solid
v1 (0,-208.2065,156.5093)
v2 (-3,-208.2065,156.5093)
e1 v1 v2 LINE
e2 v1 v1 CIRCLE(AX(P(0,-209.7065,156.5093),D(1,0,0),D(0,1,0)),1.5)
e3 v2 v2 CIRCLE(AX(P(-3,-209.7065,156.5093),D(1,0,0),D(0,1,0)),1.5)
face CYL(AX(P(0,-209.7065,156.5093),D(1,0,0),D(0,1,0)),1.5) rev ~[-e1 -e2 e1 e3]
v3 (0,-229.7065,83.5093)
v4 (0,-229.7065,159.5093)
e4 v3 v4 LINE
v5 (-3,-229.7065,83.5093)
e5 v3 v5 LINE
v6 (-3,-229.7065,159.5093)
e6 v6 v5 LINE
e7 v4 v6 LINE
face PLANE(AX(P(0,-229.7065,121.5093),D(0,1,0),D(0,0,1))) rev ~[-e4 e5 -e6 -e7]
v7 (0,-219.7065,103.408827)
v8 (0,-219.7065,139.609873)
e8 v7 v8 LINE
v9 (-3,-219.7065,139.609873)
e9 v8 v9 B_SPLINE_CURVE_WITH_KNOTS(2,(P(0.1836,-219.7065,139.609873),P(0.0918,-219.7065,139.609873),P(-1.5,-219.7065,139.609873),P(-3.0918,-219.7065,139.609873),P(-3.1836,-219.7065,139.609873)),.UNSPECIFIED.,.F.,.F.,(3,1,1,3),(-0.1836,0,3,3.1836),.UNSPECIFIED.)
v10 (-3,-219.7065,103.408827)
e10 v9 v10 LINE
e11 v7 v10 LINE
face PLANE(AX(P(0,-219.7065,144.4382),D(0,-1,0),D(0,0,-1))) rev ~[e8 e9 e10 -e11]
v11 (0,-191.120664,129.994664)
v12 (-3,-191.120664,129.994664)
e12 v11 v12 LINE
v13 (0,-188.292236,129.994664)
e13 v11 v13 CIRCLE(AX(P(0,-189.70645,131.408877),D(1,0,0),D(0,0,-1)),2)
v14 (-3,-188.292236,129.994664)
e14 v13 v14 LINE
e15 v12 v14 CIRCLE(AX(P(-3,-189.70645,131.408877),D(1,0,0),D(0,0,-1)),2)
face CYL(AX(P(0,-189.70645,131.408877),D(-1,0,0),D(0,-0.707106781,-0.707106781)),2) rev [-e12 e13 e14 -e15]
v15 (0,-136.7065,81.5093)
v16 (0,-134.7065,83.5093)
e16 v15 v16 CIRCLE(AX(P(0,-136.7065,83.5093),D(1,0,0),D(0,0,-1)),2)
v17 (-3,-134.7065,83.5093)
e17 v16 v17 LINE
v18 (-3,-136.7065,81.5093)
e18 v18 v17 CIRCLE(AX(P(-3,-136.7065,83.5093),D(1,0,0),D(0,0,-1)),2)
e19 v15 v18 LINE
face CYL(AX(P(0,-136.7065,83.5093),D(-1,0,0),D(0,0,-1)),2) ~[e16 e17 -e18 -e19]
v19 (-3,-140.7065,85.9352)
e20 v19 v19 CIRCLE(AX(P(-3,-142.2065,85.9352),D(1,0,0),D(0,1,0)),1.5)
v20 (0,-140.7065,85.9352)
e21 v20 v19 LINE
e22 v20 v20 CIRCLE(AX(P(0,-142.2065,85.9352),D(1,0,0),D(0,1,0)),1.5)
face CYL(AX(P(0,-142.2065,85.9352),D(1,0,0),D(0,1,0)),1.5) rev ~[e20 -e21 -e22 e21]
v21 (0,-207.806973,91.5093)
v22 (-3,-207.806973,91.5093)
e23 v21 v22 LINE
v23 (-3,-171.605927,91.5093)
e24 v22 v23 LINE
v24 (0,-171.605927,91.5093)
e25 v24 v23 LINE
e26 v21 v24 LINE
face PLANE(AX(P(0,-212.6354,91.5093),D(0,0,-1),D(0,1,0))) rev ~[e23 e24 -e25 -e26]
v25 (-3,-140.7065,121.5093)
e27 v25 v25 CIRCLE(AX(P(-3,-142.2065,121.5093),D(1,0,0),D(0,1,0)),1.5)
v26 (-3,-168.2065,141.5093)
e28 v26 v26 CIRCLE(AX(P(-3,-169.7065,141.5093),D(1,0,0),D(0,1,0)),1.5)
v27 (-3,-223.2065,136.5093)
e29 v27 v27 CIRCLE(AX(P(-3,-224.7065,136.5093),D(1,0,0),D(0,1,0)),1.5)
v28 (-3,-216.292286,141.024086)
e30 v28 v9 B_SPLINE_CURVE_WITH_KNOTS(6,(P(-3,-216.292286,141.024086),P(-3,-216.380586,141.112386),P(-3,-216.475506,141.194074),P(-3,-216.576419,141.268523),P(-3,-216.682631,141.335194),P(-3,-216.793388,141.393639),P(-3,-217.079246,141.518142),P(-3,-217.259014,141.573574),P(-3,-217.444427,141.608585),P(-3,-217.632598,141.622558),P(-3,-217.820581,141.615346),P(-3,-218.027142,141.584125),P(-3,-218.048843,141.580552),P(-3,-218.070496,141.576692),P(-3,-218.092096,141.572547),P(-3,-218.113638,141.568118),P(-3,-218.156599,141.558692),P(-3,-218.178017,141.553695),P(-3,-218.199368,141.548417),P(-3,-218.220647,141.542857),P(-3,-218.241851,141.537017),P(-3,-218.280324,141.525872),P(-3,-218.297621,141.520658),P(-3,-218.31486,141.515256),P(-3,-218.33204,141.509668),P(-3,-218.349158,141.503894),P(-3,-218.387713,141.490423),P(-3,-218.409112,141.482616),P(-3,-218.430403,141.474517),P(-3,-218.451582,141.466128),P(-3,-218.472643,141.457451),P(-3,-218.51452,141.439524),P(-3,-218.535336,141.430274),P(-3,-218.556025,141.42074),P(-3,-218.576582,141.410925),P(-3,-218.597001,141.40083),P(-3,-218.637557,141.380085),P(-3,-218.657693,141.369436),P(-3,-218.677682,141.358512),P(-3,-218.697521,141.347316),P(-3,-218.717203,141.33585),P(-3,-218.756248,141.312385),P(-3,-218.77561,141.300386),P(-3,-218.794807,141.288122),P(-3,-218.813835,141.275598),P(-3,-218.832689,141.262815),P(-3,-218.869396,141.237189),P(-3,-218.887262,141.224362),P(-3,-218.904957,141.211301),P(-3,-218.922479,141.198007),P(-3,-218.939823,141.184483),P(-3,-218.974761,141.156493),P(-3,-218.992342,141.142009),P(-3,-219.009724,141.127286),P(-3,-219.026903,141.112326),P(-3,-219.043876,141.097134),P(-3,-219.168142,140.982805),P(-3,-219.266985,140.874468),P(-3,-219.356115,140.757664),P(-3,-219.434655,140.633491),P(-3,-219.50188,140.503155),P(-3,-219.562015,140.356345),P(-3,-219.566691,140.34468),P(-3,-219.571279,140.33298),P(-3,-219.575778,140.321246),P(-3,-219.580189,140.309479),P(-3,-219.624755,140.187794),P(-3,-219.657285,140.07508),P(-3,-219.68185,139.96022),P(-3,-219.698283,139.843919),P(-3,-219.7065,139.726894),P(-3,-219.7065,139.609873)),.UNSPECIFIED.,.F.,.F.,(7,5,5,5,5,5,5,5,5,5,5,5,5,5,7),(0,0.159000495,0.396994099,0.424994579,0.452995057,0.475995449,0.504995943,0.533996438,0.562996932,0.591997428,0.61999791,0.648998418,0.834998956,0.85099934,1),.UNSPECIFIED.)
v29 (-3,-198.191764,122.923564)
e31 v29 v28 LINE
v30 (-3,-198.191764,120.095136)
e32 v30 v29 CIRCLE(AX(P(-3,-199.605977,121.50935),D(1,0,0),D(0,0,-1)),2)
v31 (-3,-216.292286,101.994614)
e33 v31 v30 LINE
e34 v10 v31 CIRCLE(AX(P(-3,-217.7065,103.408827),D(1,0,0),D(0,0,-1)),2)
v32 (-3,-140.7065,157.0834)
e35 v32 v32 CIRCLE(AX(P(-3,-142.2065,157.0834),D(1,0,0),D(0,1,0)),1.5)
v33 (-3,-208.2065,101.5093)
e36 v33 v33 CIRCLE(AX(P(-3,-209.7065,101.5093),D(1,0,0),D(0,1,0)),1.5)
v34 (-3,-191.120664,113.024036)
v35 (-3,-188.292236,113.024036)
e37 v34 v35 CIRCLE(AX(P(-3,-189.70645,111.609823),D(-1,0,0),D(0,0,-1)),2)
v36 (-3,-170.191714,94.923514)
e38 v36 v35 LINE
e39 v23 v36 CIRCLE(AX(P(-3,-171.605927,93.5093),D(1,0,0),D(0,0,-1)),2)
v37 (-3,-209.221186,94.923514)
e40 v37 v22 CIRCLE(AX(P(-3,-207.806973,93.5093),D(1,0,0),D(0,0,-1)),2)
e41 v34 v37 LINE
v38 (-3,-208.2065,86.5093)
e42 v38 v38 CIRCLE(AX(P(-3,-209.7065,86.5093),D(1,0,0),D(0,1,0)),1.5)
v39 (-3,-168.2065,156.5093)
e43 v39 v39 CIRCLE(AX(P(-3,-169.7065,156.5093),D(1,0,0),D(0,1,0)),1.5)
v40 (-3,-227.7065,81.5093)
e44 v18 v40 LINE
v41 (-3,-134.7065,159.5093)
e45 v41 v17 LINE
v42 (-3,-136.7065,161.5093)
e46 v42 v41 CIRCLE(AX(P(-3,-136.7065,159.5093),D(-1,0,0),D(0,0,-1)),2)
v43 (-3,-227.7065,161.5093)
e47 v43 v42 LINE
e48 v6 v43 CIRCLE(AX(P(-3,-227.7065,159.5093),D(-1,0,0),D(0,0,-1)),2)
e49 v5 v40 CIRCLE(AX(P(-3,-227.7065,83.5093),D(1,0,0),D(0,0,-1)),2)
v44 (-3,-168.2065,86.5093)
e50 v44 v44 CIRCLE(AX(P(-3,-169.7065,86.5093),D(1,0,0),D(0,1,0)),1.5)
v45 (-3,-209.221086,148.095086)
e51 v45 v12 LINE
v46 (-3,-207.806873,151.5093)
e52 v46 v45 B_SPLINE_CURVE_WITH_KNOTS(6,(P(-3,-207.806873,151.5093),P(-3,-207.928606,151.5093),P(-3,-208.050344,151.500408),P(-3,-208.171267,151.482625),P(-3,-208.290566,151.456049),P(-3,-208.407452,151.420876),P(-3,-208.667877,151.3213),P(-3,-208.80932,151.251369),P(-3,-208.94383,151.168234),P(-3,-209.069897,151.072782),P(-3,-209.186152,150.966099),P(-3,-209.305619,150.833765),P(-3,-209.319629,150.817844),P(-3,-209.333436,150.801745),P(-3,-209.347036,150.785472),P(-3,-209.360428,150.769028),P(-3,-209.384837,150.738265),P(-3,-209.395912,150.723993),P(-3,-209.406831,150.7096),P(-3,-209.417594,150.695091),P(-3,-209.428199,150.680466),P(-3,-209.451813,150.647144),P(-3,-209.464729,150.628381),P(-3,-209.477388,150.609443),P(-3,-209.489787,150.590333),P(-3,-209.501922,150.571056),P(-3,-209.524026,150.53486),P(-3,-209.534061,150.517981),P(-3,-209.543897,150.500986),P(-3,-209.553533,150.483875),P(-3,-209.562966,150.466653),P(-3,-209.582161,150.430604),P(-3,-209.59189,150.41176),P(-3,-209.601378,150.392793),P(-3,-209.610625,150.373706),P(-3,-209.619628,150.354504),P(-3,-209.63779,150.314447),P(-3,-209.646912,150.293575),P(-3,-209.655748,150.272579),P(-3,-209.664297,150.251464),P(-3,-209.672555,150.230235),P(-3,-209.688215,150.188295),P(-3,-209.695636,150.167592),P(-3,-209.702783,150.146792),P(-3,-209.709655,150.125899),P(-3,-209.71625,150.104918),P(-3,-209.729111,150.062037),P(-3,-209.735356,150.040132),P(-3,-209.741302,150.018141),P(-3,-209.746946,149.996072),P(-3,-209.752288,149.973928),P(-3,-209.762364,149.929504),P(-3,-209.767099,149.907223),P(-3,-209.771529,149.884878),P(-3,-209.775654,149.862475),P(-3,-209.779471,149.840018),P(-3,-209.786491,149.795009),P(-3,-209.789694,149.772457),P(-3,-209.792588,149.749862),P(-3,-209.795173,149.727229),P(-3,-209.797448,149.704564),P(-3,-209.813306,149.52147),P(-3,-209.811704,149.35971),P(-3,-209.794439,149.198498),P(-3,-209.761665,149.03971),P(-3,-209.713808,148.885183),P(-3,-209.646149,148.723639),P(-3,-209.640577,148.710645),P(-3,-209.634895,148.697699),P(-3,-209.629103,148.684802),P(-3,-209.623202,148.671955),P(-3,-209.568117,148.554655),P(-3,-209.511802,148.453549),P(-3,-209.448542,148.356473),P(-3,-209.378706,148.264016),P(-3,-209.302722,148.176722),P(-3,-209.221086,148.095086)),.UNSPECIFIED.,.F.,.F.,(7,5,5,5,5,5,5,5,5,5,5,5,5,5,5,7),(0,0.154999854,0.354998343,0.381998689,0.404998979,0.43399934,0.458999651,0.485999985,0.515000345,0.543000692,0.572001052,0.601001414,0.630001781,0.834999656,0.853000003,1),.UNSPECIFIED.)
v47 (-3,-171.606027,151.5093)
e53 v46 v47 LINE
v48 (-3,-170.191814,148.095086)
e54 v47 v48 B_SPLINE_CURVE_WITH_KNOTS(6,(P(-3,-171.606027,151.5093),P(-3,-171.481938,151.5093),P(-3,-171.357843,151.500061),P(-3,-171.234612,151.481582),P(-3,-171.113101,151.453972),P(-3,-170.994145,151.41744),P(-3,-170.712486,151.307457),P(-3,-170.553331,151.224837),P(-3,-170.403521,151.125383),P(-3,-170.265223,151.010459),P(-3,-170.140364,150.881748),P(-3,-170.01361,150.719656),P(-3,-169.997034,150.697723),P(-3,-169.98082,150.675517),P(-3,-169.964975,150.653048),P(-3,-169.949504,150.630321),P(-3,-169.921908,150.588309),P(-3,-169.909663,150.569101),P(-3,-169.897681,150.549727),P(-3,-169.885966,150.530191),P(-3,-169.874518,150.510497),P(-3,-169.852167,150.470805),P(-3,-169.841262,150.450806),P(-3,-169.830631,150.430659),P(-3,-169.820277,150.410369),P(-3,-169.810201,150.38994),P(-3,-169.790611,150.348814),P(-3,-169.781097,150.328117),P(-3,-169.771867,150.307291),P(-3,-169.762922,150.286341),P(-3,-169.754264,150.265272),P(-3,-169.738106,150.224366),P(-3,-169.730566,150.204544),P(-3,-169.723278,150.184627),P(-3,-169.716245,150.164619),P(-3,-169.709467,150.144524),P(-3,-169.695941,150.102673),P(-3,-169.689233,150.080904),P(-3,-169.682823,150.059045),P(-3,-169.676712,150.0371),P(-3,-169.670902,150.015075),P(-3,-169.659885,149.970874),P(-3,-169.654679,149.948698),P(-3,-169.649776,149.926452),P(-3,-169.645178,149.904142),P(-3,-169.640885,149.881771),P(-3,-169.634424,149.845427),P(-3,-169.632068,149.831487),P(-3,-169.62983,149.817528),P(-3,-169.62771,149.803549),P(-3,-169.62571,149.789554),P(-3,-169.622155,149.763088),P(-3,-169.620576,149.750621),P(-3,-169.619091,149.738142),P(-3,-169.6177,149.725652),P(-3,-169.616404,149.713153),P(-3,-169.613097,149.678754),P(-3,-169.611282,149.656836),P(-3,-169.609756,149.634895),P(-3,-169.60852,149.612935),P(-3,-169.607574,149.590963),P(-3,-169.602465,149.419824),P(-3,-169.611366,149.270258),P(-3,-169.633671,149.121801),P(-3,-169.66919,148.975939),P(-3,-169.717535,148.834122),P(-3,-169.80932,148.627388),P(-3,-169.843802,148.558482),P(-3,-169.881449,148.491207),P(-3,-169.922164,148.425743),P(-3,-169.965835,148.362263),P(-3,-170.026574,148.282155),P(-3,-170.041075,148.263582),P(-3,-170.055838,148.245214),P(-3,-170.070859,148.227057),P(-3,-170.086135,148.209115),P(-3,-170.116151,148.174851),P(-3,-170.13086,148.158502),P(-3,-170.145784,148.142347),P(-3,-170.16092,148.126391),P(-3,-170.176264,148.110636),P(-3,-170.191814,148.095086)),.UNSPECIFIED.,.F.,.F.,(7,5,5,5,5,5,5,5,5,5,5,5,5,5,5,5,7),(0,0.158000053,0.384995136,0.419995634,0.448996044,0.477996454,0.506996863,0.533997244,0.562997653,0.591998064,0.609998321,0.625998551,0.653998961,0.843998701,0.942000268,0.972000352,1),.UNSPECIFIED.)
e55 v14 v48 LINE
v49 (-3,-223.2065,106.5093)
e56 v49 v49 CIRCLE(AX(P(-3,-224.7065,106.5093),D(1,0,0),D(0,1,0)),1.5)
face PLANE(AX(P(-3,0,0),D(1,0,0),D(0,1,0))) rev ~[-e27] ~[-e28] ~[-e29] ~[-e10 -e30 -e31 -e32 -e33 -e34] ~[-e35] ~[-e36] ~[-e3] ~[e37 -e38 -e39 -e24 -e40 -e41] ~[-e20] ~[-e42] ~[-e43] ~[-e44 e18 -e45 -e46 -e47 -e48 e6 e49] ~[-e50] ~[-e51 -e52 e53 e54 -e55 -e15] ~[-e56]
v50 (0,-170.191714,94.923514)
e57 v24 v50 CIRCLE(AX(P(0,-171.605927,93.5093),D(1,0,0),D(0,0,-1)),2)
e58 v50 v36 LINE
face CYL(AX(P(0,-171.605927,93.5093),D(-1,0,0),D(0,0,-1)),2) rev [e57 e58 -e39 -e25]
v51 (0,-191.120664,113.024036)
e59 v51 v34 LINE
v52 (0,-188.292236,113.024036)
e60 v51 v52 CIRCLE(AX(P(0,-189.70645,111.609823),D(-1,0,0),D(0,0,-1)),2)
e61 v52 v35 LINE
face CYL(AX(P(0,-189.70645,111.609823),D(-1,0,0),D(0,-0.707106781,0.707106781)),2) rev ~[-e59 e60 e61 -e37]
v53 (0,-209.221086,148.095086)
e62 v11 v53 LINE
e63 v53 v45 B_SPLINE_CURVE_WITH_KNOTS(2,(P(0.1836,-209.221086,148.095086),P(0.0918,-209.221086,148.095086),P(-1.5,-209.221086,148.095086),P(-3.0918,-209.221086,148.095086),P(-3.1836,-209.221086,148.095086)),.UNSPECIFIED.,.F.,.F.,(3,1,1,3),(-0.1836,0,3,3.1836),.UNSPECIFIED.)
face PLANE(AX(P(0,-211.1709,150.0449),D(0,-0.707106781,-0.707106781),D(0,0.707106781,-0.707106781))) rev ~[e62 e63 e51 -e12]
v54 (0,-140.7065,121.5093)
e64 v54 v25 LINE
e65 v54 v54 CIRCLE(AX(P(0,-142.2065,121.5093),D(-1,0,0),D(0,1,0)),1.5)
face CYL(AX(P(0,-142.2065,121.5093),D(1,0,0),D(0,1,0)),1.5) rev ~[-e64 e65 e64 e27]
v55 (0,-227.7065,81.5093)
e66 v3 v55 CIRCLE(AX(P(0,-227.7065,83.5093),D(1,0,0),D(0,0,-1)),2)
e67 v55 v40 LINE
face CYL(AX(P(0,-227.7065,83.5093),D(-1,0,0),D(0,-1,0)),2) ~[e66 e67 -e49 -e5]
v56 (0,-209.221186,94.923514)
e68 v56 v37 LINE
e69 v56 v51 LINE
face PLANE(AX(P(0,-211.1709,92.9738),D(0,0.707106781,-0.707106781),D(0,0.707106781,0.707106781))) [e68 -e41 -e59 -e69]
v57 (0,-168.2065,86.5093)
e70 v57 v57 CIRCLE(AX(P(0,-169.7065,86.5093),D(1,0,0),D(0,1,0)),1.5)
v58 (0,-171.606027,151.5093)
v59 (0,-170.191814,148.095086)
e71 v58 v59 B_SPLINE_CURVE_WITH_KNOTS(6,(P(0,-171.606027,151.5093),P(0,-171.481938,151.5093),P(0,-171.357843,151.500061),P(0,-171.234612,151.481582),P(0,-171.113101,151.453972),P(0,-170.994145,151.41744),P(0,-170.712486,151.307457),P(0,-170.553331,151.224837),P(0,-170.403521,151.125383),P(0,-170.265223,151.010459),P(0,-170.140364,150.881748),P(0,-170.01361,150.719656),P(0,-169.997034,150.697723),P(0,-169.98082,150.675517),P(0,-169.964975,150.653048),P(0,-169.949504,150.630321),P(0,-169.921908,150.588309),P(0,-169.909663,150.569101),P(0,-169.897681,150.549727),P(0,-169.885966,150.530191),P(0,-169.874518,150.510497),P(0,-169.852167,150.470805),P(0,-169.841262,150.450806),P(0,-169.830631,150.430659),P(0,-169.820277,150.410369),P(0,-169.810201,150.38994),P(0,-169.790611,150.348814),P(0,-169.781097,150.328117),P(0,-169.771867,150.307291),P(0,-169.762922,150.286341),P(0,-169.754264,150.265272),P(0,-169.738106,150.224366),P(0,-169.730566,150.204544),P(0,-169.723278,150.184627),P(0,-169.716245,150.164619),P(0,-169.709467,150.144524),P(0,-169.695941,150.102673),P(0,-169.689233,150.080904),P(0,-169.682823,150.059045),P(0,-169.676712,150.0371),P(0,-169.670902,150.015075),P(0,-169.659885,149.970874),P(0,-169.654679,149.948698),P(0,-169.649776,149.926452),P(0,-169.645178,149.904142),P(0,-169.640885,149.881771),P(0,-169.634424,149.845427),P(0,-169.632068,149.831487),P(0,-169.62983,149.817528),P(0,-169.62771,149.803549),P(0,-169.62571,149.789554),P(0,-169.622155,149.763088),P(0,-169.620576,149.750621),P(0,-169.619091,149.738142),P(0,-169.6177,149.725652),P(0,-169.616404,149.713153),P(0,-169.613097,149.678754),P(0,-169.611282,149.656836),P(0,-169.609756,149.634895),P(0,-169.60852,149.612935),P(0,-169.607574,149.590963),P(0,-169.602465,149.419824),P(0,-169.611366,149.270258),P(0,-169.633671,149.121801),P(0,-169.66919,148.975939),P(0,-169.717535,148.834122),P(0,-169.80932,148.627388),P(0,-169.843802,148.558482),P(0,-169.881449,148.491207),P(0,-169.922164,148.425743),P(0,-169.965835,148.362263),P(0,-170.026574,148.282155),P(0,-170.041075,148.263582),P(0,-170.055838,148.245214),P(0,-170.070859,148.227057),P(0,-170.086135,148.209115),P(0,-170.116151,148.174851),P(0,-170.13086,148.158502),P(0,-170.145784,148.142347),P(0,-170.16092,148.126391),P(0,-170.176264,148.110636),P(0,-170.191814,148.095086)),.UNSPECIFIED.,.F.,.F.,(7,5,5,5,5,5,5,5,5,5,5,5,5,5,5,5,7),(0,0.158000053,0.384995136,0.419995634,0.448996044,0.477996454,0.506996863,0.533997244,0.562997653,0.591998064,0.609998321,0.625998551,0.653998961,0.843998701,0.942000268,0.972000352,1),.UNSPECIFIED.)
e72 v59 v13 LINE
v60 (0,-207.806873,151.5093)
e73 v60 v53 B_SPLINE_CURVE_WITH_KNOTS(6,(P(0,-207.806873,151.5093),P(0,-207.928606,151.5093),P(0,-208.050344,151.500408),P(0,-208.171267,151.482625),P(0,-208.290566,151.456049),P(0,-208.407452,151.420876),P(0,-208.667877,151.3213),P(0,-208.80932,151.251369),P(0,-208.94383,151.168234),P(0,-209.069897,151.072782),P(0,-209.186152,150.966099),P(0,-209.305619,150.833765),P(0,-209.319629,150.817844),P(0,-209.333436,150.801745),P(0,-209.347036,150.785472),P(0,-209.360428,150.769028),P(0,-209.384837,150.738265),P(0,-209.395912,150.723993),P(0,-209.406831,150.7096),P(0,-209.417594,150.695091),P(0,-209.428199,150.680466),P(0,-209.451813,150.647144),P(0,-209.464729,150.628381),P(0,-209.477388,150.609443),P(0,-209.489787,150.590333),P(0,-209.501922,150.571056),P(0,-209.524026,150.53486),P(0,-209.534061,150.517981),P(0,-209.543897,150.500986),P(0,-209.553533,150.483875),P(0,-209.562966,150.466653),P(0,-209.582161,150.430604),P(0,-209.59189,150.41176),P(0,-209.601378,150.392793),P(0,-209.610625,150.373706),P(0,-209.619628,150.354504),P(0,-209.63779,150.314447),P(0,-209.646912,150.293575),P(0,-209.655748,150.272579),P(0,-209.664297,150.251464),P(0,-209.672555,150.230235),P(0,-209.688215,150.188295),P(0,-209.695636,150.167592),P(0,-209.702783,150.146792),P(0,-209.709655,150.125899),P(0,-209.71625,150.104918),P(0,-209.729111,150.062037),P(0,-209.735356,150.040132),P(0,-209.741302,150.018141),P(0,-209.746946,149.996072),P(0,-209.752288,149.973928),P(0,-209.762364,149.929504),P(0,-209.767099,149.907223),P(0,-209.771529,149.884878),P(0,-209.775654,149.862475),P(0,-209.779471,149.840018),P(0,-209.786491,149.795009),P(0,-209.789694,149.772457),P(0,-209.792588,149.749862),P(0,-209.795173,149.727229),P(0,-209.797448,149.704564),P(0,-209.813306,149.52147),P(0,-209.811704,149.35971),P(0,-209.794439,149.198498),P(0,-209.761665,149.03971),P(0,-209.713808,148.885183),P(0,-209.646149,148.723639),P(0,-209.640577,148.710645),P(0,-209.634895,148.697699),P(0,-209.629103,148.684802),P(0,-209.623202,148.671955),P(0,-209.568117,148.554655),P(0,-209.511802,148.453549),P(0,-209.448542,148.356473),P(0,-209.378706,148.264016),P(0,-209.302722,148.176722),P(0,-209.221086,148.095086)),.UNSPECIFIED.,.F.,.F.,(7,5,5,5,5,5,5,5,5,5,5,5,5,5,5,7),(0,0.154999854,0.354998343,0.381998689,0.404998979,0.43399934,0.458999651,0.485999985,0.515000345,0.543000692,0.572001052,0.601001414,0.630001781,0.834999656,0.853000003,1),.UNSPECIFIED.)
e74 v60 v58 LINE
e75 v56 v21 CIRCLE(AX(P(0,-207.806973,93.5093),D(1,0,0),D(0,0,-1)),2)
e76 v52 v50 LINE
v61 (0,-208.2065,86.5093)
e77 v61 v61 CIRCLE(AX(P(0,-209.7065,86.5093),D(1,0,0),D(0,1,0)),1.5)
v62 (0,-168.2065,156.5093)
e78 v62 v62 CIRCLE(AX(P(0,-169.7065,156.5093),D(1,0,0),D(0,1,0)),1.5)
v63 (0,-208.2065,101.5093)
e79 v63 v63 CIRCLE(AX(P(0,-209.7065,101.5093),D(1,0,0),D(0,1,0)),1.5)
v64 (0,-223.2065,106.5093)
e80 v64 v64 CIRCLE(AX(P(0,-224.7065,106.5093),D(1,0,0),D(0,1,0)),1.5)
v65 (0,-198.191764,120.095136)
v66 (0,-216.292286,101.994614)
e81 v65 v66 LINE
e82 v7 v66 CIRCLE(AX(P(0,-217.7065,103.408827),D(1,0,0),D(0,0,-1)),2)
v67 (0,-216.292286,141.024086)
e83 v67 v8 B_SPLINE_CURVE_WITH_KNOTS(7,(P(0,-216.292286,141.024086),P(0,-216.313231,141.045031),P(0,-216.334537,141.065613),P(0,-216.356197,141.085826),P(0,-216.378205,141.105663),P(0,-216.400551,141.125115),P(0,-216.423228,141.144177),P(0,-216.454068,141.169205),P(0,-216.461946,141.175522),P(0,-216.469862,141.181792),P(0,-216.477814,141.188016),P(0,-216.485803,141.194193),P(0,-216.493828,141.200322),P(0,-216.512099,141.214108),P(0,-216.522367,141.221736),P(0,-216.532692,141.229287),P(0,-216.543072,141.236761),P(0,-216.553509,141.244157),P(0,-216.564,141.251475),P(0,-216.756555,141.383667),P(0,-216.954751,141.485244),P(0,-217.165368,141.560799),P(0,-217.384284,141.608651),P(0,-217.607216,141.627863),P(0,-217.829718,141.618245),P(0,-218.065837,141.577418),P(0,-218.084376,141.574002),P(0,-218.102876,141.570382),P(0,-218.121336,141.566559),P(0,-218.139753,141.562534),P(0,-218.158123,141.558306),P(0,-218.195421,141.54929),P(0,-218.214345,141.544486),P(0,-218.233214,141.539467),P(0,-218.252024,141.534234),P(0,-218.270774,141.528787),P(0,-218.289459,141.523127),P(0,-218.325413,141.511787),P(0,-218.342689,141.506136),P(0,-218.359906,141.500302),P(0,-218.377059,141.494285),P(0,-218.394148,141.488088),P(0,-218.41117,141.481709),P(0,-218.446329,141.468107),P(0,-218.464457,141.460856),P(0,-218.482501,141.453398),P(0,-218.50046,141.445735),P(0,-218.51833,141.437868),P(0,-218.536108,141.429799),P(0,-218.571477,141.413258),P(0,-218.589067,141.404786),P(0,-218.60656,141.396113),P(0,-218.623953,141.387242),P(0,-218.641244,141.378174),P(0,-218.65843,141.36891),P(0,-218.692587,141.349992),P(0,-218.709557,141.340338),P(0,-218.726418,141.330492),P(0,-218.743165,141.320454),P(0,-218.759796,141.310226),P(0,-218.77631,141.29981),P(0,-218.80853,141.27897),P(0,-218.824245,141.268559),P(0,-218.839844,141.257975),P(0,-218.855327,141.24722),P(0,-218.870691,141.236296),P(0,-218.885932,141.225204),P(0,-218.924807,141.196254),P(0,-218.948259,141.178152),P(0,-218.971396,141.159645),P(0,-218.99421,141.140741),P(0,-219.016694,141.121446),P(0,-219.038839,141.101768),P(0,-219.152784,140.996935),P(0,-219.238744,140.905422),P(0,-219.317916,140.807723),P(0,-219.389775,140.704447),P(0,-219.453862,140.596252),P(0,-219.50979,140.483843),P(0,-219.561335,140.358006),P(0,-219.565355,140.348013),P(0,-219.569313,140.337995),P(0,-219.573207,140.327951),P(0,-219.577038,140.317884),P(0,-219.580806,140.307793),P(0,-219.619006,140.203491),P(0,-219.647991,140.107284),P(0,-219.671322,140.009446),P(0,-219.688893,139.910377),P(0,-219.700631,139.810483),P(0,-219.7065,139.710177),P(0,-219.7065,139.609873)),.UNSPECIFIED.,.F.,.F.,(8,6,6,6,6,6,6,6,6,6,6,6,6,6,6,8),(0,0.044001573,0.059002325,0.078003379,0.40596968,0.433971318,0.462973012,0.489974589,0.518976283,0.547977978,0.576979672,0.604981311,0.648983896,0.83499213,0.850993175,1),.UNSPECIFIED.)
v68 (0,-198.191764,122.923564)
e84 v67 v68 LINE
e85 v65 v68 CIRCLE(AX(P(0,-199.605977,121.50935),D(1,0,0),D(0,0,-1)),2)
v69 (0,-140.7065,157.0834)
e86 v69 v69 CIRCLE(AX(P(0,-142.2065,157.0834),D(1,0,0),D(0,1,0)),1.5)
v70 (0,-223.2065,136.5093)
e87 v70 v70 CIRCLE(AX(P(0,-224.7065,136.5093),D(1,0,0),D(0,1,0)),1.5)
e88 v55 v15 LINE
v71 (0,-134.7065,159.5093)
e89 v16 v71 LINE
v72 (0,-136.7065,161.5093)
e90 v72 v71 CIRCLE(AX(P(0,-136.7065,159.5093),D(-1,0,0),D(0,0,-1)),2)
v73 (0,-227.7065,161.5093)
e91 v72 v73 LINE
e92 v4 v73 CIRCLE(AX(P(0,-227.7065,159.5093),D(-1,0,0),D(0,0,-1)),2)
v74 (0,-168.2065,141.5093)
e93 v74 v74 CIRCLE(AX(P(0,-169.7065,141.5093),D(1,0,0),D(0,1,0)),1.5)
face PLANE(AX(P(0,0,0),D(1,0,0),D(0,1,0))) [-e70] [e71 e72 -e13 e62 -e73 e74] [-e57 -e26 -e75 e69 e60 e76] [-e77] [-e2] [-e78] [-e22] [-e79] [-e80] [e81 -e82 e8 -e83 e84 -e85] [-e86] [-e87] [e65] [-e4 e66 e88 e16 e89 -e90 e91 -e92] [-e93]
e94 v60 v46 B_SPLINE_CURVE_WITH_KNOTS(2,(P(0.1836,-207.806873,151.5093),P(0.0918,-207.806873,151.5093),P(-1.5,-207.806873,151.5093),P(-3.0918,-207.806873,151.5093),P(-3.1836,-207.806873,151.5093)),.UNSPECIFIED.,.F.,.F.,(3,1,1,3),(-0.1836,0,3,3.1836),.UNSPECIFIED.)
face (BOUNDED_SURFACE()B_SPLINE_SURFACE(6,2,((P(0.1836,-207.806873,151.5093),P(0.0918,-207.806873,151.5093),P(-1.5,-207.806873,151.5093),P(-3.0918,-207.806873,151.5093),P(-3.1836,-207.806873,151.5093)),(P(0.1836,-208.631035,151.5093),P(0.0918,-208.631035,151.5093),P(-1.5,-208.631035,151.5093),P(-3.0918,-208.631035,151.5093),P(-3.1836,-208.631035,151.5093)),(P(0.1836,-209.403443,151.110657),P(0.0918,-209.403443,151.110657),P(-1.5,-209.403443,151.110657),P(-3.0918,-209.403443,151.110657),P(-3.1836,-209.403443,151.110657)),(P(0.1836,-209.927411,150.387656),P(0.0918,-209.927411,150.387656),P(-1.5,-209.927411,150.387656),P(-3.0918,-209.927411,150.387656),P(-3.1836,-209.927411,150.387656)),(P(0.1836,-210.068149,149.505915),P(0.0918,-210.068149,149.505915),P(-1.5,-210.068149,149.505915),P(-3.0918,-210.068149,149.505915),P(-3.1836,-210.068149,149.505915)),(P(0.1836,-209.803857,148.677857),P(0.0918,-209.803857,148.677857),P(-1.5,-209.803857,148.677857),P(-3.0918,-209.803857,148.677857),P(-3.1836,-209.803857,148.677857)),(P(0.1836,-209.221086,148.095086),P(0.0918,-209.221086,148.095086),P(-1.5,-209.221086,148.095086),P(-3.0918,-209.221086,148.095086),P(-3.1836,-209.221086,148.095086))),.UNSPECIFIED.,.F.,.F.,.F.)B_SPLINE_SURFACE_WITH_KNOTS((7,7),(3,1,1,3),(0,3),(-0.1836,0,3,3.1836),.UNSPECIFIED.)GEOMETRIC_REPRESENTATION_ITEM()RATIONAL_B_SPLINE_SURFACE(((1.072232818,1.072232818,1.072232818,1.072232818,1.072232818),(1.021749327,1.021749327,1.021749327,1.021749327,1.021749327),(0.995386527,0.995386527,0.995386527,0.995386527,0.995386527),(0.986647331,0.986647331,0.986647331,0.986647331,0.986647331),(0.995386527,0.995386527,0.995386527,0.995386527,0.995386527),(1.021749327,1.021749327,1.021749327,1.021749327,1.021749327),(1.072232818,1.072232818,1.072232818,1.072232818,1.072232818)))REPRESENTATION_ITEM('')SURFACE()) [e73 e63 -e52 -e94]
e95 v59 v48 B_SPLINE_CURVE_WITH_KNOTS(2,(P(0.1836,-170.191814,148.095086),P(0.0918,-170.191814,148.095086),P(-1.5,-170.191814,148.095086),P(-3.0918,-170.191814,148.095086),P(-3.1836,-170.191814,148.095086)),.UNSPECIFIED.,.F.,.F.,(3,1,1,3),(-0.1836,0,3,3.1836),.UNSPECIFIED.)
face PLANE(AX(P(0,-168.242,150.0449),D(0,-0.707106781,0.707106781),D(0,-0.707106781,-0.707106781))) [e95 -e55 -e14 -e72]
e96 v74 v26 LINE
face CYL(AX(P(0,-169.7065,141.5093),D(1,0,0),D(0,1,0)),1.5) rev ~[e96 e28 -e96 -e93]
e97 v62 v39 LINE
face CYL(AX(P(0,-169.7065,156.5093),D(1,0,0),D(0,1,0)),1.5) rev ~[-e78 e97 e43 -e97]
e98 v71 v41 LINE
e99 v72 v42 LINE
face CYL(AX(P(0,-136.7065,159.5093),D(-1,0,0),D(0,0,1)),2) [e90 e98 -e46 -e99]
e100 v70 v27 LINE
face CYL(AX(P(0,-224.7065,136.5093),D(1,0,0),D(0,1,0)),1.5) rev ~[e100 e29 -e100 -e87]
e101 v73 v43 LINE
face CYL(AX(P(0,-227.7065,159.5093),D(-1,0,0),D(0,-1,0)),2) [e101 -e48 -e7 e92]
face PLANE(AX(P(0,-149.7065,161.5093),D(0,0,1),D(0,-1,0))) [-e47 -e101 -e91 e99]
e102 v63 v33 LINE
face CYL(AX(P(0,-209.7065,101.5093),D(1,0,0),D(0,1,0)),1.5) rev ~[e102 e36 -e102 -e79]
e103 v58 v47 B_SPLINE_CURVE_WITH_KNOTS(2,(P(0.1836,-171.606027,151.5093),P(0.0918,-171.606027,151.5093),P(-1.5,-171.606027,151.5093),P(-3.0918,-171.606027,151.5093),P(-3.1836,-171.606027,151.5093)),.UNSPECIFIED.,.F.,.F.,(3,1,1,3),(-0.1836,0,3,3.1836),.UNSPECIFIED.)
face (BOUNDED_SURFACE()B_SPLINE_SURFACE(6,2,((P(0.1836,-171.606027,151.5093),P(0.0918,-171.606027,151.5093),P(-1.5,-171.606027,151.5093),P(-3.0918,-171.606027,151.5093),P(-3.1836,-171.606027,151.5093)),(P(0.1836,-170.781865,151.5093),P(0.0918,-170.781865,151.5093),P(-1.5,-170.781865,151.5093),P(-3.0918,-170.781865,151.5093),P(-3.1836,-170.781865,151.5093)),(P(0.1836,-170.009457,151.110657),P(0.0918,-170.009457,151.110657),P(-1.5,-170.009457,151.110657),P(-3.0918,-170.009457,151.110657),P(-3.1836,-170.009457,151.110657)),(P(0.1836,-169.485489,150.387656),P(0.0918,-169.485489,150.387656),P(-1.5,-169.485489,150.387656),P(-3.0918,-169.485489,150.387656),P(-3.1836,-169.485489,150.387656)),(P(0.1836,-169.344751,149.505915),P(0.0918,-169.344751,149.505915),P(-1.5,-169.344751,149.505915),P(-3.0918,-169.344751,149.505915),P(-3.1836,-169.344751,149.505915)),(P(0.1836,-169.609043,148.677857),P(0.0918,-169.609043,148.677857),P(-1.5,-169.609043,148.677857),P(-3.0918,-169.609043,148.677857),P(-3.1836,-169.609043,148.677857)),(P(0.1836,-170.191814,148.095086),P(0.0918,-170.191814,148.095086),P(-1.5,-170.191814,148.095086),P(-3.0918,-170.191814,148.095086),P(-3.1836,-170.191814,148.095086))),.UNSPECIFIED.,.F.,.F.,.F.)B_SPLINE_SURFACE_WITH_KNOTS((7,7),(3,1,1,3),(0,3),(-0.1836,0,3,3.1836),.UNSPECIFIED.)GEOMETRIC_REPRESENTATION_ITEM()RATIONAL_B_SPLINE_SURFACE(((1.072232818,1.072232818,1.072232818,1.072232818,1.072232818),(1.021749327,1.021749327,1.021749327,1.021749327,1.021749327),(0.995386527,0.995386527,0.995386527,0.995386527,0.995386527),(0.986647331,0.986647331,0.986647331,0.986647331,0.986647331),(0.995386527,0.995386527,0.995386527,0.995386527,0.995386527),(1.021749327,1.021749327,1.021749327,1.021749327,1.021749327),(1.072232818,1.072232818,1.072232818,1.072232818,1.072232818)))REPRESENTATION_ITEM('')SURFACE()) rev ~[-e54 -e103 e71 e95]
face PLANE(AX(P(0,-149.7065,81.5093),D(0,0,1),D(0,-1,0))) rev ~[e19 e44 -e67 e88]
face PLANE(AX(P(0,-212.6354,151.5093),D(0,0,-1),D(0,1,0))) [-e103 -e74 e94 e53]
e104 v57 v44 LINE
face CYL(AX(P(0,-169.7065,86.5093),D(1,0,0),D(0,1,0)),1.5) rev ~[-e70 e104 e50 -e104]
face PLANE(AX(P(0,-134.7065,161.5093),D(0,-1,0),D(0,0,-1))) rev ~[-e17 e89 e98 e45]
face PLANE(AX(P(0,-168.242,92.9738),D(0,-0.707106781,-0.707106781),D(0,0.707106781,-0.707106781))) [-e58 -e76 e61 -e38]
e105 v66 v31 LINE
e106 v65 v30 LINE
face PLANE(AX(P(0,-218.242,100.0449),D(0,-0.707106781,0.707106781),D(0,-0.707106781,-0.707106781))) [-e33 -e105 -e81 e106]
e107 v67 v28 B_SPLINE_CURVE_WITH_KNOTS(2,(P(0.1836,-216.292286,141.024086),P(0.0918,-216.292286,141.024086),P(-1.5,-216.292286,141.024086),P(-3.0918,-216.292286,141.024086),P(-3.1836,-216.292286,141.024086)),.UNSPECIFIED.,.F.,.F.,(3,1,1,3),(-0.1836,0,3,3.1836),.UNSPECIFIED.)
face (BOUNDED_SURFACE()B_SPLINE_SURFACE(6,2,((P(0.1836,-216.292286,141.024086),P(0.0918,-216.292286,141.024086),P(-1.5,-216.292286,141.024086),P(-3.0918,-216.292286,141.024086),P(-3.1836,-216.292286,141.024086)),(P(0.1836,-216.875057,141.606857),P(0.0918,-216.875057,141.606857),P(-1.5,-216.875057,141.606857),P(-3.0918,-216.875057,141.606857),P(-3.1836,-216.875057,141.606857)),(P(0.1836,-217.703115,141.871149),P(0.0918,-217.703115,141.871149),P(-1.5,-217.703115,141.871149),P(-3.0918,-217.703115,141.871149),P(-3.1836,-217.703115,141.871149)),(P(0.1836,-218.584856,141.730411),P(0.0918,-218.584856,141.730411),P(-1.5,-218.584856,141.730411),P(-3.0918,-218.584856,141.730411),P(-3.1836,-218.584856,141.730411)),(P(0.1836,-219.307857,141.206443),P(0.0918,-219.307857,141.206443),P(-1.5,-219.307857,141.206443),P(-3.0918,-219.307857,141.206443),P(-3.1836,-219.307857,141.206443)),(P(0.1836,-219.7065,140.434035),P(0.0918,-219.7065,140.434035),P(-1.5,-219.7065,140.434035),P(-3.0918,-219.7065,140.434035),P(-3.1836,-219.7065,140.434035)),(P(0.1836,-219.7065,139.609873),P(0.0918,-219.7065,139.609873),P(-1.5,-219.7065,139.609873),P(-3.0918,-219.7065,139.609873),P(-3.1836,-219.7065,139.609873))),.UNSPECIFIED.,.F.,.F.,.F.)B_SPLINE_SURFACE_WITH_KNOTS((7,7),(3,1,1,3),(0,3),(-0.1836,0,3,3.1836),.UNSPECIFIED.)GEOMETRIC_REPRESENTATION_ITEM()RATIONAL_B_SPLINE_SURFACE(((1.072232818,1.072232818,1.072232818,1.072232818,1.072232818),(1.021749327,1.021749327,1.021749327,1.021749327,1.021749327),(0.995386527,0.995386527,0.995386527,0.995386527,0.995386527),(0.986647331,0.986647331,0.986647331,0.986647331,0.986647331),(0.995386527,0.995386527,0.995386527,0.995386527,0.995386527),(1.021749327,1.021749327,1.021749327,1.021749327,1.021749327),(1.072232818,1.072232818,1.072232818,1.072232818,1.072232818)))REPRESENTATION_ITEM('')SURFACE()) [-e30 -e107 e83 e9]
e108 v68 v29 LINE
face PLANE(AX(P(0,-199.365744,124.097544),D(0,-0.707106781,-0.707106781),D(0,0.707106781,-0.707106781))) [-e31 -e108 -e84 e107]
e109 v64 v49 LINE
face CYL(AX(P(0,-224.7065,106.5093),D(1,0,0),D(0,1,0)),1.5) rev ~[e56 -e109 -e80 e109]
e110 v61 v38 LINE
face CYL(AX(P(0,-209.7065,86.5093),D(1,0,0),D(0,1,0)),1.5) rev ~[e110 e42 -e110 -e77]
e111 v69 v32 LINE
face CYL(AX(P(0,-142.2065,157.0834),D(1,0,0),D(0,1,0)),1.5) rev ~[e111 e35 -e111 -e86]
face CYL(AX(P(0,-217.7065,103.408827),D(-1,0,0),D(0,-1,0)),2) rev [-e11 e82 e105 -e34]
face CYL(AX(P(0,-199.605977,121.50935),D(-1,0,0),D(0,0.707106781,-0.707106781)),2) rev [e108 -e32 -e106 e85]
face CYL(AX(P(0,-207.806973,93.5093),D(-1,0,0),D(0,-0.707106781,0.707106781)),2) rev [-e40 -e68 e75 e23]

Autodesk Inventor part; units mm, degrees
ref_plane "YZ Plane" through (0, 0, 0) normal (1, 0, 0) x (0, 1, 0)
ref_plane "XZ Plane" through (0, 0, 0) normal (0, 1, 0) x (-1, 0, 0)
ref_plane "XY Plane" through (0, 0, 0) normal (0, 0, 1) x (1, 0, 0)
sketch "スケッチ1" plane through (0, 0, 0) normal (1, 0, 0) x (0, 1, 0)
  line L0 (-149.7065, 436.5093) -> (480.2935, 436.5093)
  line L1 (480.2935, 436.5093) -> (480.2935, -193.4907)
  line L2 (480.2935, -193.4907) -> (-149.7065, -193.4907)
  line L3 (-149.7065, -193.4907) -> (-149.7065, 436.5093)
  line L4 (-149.7065, 436.5093) -> (480.2935, -193.4907) construction
  line L5 (480.2935, 436.5093) -> (-149.7065, -193.4907) construction
  line L6 (-149.7065, 343.7276) -> (-134.7065, 343.7276)
  line L7 (-134.7065, 343.7276) -> (-134.7065, -100.7089)
  line L8 (-134.7065, -100.7089) -> (-149.7065, -100.7089)
  line L9 (-149.7065, -100.7089) -> (-149.7065, 343.7276)
  line L10 (387.5118, 436.5093) -> (-56.9247, 436.5093)
  line L11 (-56.9247, 436.5093) -> (-56.9247, 421.5093)
  line L12 (-56.9247, 421.5093) -> (387.5118, 421.5093)
  line L13 (387.5118, 421.5093) -> (387.5118, 436.5093)
  line L14 (-56.9247, 421.5093) -> (-134.7065, 343.7276)
  line L15 (-134.7065, 343.7276) -> (-134.7065, 436.5093)
  line L16 (-56.9247, 421.5093) -> (-134.7065, 343.7276)
  line L17 (-134.7065, 343.7276) -> (-127.6354, 336.6565)
  line L18 (-127.6354, 336.6565) -> (-49.8537, 414.4382)
  line L19 (-49.8537, 414.4382) -> (-56.9247, 421.5093)
  line L20 (54.5012, 421.5093) -> (-134.7065, 232.3017)
  line L21 (54.5012, 421.5093) -> (-134.7065, 232.3017)
  line L22 (-134.7065, 232.3017) -> (-127.6354, 225.2306)
  line L23 (-127.6354, 225.2306) -> (61.5722, 414.4382)
  line L24 (61.5722, 414.4382) -> (54.5012, 421.5093)
  line L25 (165.2935, 121.5093) -> (-791.3038, 121.5093)
  line L26 (-56.9247, -178.4907) -> (-134.7065, -100.7089)
  line L27 (-134.7065, -100.7089) -> (-127.6354, -93.6379)
  line L28 (-127.6354, -93.6379) -> (-49.8537, -171.4196)
  line L29 (-49.8537, -171.4196) -> (-56.9247, -178.4907)
  line L30 (54.5012, -178.4907) -> (-134.7065, 10.7169)
  line L31 (-134.7065, 10.7169) -> (-127.6354, 17.788)
  line L32 (-127.6354, 17.788) -> (61.5722, -171.4196)
  line L33 (61.5722, -171.4196) -> (54.5012, -178.4907)
  circle A0 centre (165.2935, 121.5093) radius 400
  line L34 (-164.7065, 146.5093) -> (-214.7065, 146.5093)
  line L35 (-214.7065, 146.5093) -> (-214.7065, 96.5093)
  line L36 (-214.7065, 96.5093) -> (-164.7065, 96.5093)
  line L37 (-164.7065, 96.5093) -> (-164.7065, 146.5093)
  line L38 (165.2935, 121.5093) -> (165.2935, -509.4085)
  line L39 (387.5118, 421.5093) -> (465.2935, 343.7276)
  line L40 (465.2935, 343.7276) -> (458.2225, 336.6565)
  line L41 (458.2225, 336.6565) -> (380.4407, 414.4382)
  line L42 (380.4407, 414.4382) -> (387.5118, 421.5093)
  line L43 (276.0859, 421.5093) -> (465.2935, 232.3017)
  line L44 (465.2935, 232.3017) -> (458.2225, 225.2306)
  line L45 (458.2225, 225.2306) -> (269.0148, 414.4382)
  line L46 (269.0148, 414.4382) -> (276.0859, 421.5093)
  line L47 (458.2225, 17.788) -> (269.0148, -171.4196)
  line L48 (465.2935, 10.7169) -> (458.2225, 17.788)
  line L49 (276.0859, -178.4907) -> (465.2935, 10.7169)
  line L50 (269.0148, -171.4196) -> (276.0859, -178.4907)
  line L51 (465.2935, -100.7089) -> (458.2225, -93.6379)
  line L52 (387.5118, -178.4907) -> (465.2935, -100.7089)
  line L53 (458.2225, -93.6379) -> (380.4407, -171.4196)
  line L54 (380.4407, -171.4196) -> (387.5118, -178.4907)
  line L55 (-149.7065, 161.5093) -> (-229.7065, 161.5093)
  line L56 (-229.7065, 161.5093) -> (-229.7065, 151.5093)
  line L57 (-229.7065, 151.5093) -> (-149.7065, 151.5093)
  line L58 (-149.7065, 151.5093) -> (-149.7065, 161.5093)
  line L59 (-229.7065, 151.5093) -> (-219.7065, 151.5093)
  line L60 (-219.7065, 151.5093) -> (-219.7065, 121.5093)
  line L61 (-219.7065, 121.5093) -> (-229.7065, 121.5093)
  line L62 (-229.7065, 121.5093) -> (-229.7065, 151.5093)
  line L63 (465.2935, 343.7276) -> (480.2935, 343.7276)
  line L64 (480.2935, 343.7276) -> (480.2935, -100.7089)
  line L65 (480.2935, -100.7089) -> (465.2935, -100.7089)
  line L66 (465.2935, -100.7089) -> (465.2935, 343.7276)
  line L67 (-56.9247, -193.4907) -> (387.5118, -193.4907)
  line L68 (387.5118, -193.4907) -> (387.5118, -178.4907)
  line L69 (387.5118, -178.4907) -> (-56.9247, -178.4907)
  line L70 (-56.9247, -178.4907) -> (-56.9247, -193.4907)
  line L71 (379.7941, 410.2561) -> (454.0403, 336.0099)
  line L72 (454.0403, 336.0099) -> (419.2302, 301.1998)
  line L73 (419.2302, 301.1998) -> (344.984, 375.446)
  line L74 (344.984, 375.446) -> (379.7941, 410.2561)
  line L75 (480.2935, 436.5093) -> (165.2935, 121.5093)
  line L76 (480.2935, 266.5093) -> (-149.7065, 266.5093)
  line L77 (-149.7065, 266.5093) -> (-149.7065, 246.5093)
  line L78 (-149.7065, 246.5093) -> (480.2935, 246.5093)
  line L79 (480.2935, 246.5093) -> (480.2935, 266.5093)
  line L80 (480.2935, -23.4907) -> (-149.7065, -23.4907)
  line L81 (-149.7065, -3.4907) -> (480.2935, -3.4907)
  line L82 (480.2935, 266.5093) -> (500.2935, 266.5093)
  line L83 (500.2935, 266.5093) -> (500.2935, 286.5093)
  line L84 (500.2935, 286.5093) -> (480.2935, 286.5093)
  line L85 (480.2935, 286.5093) -> (480.2935, 266.5093)
  line L86 (480.2935, -23.4907) -> (500.2935, -23.4907)
  line L87 (500.2935, -23.4907) -> (500.2935, -43.4907)
  line L88 (500.2935, -43.4907) -> (480.2935, -43.4907)
  line L89 (480.2935, -43.4907) -> (480.2935, -23.4907)
  line L90 (500.2935, 286.5093) -> (512.7935, 286.5093)
  line L91 (505.7289, -43.4907) -> (495.7289, -43.4907)
  circle A1 centre (677.2935, 121.5093) radius 122.5
  line L92 (480.2935, 266.5093) -> (500.2935, 266.5093)
  line L93 (500.2935, 266.5093) -> (500.2935, 246.5093)
  line L94 (500.2935, 246.5093) -> (480.2935, 246.5093)
  line L95 (480.2935, 246.5093) -> (480.2935, 266.5093)
  line L96 (480.2935, -23.4907) -> (500.2935, -23.4907)
  line L97 (500.2935, -23.4907) -> (500.2935, -3.4907)
  line L98 (500.2935, -3.4907) -> (480.2935, -3.4907)
  line L99 (480.2935, -3.4907) -> (480.2935, -23.4907)
  line L100 (291.2935, 266.5093) -> (311.2935, 266.5093)
  line L101 (311.2935, 266.5093) -> (311.2935, 286.5093)
  line L102 (311.2935, 286.5093) -> (291.2935, 286.5093)
  line L103 (291.2935, 286.5093) -> (291.2935, 266.5093)
  line L104 (-127.6354, 336.6565) -> (-149.7065, 336.6565)
  circle A2 centre (-142.2065, 353.5093) radius 1.5
  circle A3 centre (-142.2065, 343.5093) radius 1.5
  line L105 (-134.7065, 363.5093) -> (-149.7065, 363.5093)
  line L106 (-56.9247, 429.0093) -> (-142.2065, 429.0093)
  line L107 (-142.2065, 429.0093) -> (-142.2065, 363.5093)
  circle A4 centre (-66.7065, 429.0093) radius 1.5
  circle A5 centre (-56.7065, 429.0093) radius 1.5
  line L108 (-76.7065, 436.5093) -> (-76.7065, 421.5093)
  line L109 (-56.9247, 421.5093) -> (-76.7065, 421.5093)
  circle A6 centre (-66.7065, -185.9907) radius 1.5
  circle A7 centre (-56.7065, -185.9907) radius 1.5
  circle A8 centre (-142.2065, -110.4907) radius 1.5
  circle A9 centre (-142.2065, -100.4907) radius 1.5
  line L110 (-134.7065, -120.4907) -> (-149.7065, -120.4907)
  line L111 (-76.7065, -193.4907) -> (-76.7065, -178.4907)
  line L112 (407.2935, 436.5093) -> (407.2935, 421.5093)
  circle A10 centre (397.2935, 429.0093) radius 1.5
  circle A11 centre (387.2935, 429.0093) radius 1.5
  line L113 (465.2935, 363.5093) -> (480.2935, 363.5093)
  circle A12 centre (472.7935, 353.5093) radius 1.5
  circle A13 centre (472.7935, 343.5093) radius 1.5
  line L114 (465.2935, -120.4907) -> (480.2935, -120.4907)
  circle A14 centre (472.7935, -110.4907) radius 1.5
  circle A15 centre (472.7935, -100.4907) radius 1.5
  line L115 (407.2935, -193.4907) -> (407.2935, -178.4907)
  circle A16 centre (397.2935, -185.9907) radius 1.5
  circle A17 centre (387.2935, -185.9907) radius 1.5
  line L116 (-134.7065, -100.7089) -> (-134.7065, -120.4907)
  line L117 (-56.9247, -178.4907) -> (-76.7065, -178.4907)
  line L118 (407.2935, -178.4907) -> (387.5118, -178.4907)
  line L119 (465.2935, -100.7089) -> (465.2935, -120.4907)
  line L120 (465.2935, 363.5093) -> (465.2935, 343.7276)
  line L121 (387.5118, 421.5093) -> (407.2935, 421.5093)
  circle A18 centre (-127.6354, 343.7276) radius 1.5
  circle A19 centre (-120.5643, 350.7986) radius 1.5
  circle A20 centre (-127.6354, 232.3017) radius 1.5
  circle A21 centre (-120.5643, 239.3728) radius 1.5
  circle A22 centre (-63.9958, 407.3672) radius 1.5
  circle A23 centre (-56.9247, 414.4382) radius 1.5
  circle A24 centre (47.4301, 407.3672) radius 1.5
  circle A25 centre (54.5012, 414.4382) radius 1.5
  circle A26 centre (-56.9247, -171.4196) radius 1.5
  circle A27 centre (-63.9958, -164.3485) radius 1.5
  circle A28 centre (54.5012, -171.4196) radius 1.5
  circle A29 centre (47.4301, -164.3485) radius 1.5
  circle A30 centre (-127.6354, -100.7089) radius 1.5
  circle A31 centre (-120.5643, -107.78) radius 1.5
  circle A32 centre (-120.5643, 3.6459) radius 1.5
  circle A33 centre (-127.6354, 10.7169) radius 1.5
  circle A34 centre (458.2225, 10.7169) radius 1.5
  circle A35 centre (451.1514, 3.6459) radius 1.5
  circle A36 centre (458.2225, -100.7089) radius 1.5
  circle A37 centre (451.1514, -107.78) radius 1.5
  circle A38 centre (394.5828, -164.3485) radius 1.5
  circle A39 centre (387.5118, -171.4196) radius 1.5
  circle A40 centre (283.157, -164.3485) radius 1.5
  circle A41 centre (276.0859, -171.4196) radius 1.5
  circle A42 centre (451.1514, 239.3728) radius 1.5
  circle A43 centre (458.2225, 232.3017) radius 1.5
  circle A44 centre (458.2225, 343.7276) radius 1.5
  circle A45 centre (451.1514, 350.7986) radius 1.5
  circle A46 centre (394.5828, 407.3672) radius 1.5
  circle A47 centre (387.5118, 414.4382) radius 1.5
  circle A48 centre (276.0859, 414.4382) radius 1.5
  circle A49 centre (283.157, 407.3672) radius 1.5
  circle A50 centre (-142.2065, 232.0834) radius 1.5
  circle A51 centre (-142.2065, 242.0834) radius 1.5
  circle A52 centre (44.7194, 429.0093) radius 1.5
  circle A53 centre (54.7194, 429.0093) radius 1.5
  circle A54 centre (-142.2065, 10.9352) radius 1.5
  circle A55 centre (-142.2065, 0.9352) radius 1.5
  circle A56 centre (44.7194, -185.9907) radius 1.5
  circle A57 centre (54.7194, -185.9907) radius 1.5
  circle A58 centre (275.8676, 429.0093) radius 1.5
  circle A59 centre (285.8676, 429.0093) radius 1.5
  circle A60 centre (472.7935, 242.0834) radius 1.5
  circle A61 centre (472.7935, 232.0834) radius 1.5
  circle A62 centre (472.7935, 0.9352) radius 1.5
  circle A63 centre (472.7935, 10.9352) radius 1.5
  circle A64 centre (285.8676, -185.9907) radius 1.5
  circle A65 centre (275.8676, -185.9907) radius 1.5
  circle A66 centre (472.7935, 256.5093) radius 1.5
  circle A67 centre (472.7935, -13.4907) radius 1.5
  circle A68 centre (-142.2065, -13.4907) radius 1.5
  circle A69 centre (-142.2065, 256.5093) radius 1.5
  circle A70 centre (316.2935, 256.5093) radius 1.5
  circle A71 centre (316.2935, -13.4907) radius 1.5
  circle A72 centre (-209.7065, 141.5093) radius 1.5
  line L122 (-189.7065, 146.5093) -> (-189.7065, 96.5093)
  circle A73 centre (-209.7065, 101.5093) radius 1.5
  circle A74 centre (-169.7065, 141.5093) radius 1.5
  circle A75 centre (-169.7065, 101.5093) radius 1.5
  circle A76 centre (-142.2065, 121.5093) radius 1.5
  circle A77 centre (-142.2065, 157.0834) radius 1.5
  circle A78 centre (-169.7065, 156.5093) radius 1.5
  circle A79 centre (-209.7065, 156.5093) radius 1.5
  circle A80 centre (-224.7065, 136.5093) radius 1.5
  circle A81 centre (-224.7065, 106.5093) radius 1.5
  line L123 (-229.7065, 121.5093) -> (-229.7065, 91.5093)
  line L124 (-229.7065, 91.5093) -> (-149.7065, 91.5093)
  line L125 (-219.7065, 91.5093) -> (-219.7065, 121.5093)
  line L126 (-149.7065, 81.5093) -> (-229.7065, 81.5093)
  line L127 (-229.7065, 81.5093) -> (-229.7065, 91.5093)
  circle A82 centre (-209.7065, 86.5093) radius 1.5
  circle A83 centre (-169.7065, 86.5093) radius 1.5
  circle A84 centre (-142.2065, 85.9352) radius 1.5
  circle A85 centre (-189.7065, 121.5093) radius 10
  line L128 (-214.7065, 146.5093) -> (-189.7065, 121.5093)
  line L129 (-218.242, 142.9738) -> (-193.242, 117.9738)
  line L130 (-218.242, 142.9738) -> (-219.7065, 144.4382)
  line L131 (-211.1709, 150.0449) -> (-186.1709, 125.0449)
  line L132 (-211.1709, 150.0449) -> (-212.6354, 151.5093)
  line L133 (-211.1709, 92.9738) -> (-186.1709, 117.9738)
  line L134 (-218.242, 100.0449) -> (-193.242, 125.0449)
  line L135 (-168.242, 150.0449) -> (-193.242, 125.0449)
  line L136 (-168.242, 92.9738) -> (-193.242, 117.9738)
  line L137 (-218.242, 100.0449) -> (-219.7065, 98.5804)
  line L138 (-211.1709, 92.9738) -> (-212.6354, 91.5093)
  line L139 (-168.242, 150.0449) -> (-166.7775, 151.5093)
  line L140 (-168.242, 92.9738) -> (-166.7775, 91.5093)
  line L141 (-149.7065, 161.5093) -> (-134.7065, 161.5093)
  line L142 (-149.7065, 81.5093) -> (-134.7065, 81.5093)
  point P0 (0, 0)
  point P1 (-149.7065, -23.4907)
  point P2 (480.2935, -3.4907)
  point P3 (-149.7065, 266.5093)
  point P4 (480.2935, 246.5093)
  point P5 (-199.3657, 124.0975)
  point P6 (-199.3657, 118.9211)
  point P7 (-192.2947, 111.8501)
  point P8 (-187.1183, 111.8501)
  point P9 (-189.7065, 128.5804)
  point P10 (-189.7065, 114.4382)
  point P11 (-196.7775, 121.5093)
  dimension "d0" = 3
  dimension "d1" = 68
  dimension "d2" = 7.5
  dimension "d3" = 3
  dimension "d4" = 10
  dimension "d5" = 7.5
  dimension "d6" = 10
  dimension "d7" = 3
  dimension "d8" = 3
  dimension "d9" = 10
  dimension "d10" = 68
  dimension "d11" = 7.5
  dimension "d12" = 7.5
  dimension "d13" = 10
  dimension "d14" = 3
  dimension "d15" = 3
  dimension "d16" = 5
  dimension "d17" = 10
  dimension "d18" = 5
  dimension "d19" = 5
  dimension "d20" = 3
  dimension "d21" = 3
  dimension "d22" = 5
  dimension "d23" = 10
  dimension "d24" = 5
  dimension "d25" = 5
  dimension "d26" = 0.2182
  dimension "d27" = 3
  dimension "d28" = 7.5
  dimension "d29" = 0.2182
  dimension "d30" = 3
  dimension "d31" = 10
  dimension "d32" = 7.5
  dimension "d33" = 3
  dimension "d34" = 7.5
  dimension "d35" = 10
  dimension "d36" = 3
  dimension "d37" = 5
  dimension "d38" = 10
  dimension "d39" = 3
  dimension "d40" = 5
  dimension "d41" = 5
  dimension "d42" = 3
  dimension "d43" = 3
  dimension "d44" = 7.5
  dimension "d45" = 7.5
  dimension "d46" = 75
  dimension "d47" = 3
  dimension "d48" = 3
  dimension "d49" = 5
  dimension "d50" = 5
  dimension "d51" = 20
  dimension "d52" = 20
  dimension "d53" = 3
  dimension "d54" = 15
  dimension "d55" = 5
  dimension "d56" = 20
  dimension "d57" = 5
  dimension "d58" = 5
extrude "押し出し1" add sketch "スケッチ1" against normal blind 3 contours L62 L57 L60 L25 | L25 L125 L124 L123 | L56 L55 L3 L57 | L124 L3 L126 L127 | L60 L57 L132 L131 L34 L35 L129 L130 | L137 L134 L35 L36 L133 L138 L124 L125 | A85 L129 L25 | L25 L134 A85 | L35 L128 A72 A85 L129 | L134 A85 L133 L36 L35 | L141 L7 L25 A76 L3 | L3 L25 A76 L7 L142 | L134 L128 L25 | L25 L122 L136 L129 | L129 L136 L133 A85 L134 | L129 A85 L128 L134 | L34 L131 A85 L128 A72 | L3 L25 L37 L34 L135 L139 L57 | L140 L136 L36 L37 L25 L3 L124 | L122 L135 A85 L25 | L128 L135 L122 | L25 A85 L136 L122 | L128 A85 L131 L135 | L133 L122 A85 | L128 A72 | A72 L128 | A85 L135 L34 L37 L25 | L25 L37 L36 L136 A85 | L136 A85 L122 | A75
extrude "押し出し2" cut sketch "スケッチ1" against normal blind 3 contours A85 L129 L25 | L25 L134 A85 | L133 L122 A85 | L136 A85 L122
fillet "フィレット1" radius 2 13 edges at (-1.5, -229.7065, 161.5093) (-1.5, -229.7065, 81.5093) (-1.5, -196.7775, 121.5093) (-1.5, -219.7065, 144.4382) (-1.5, -219.7065, 98.5804) (-1.5, -189.7065, 114.4382) (-1.5, -166.7775, 91.5093) (-1.5, -212.6354, 91.5093) (-1.5, -166.7775, 151.5093) (-1.5, -189.7065, 128.5804) (-1.5, -212.6354, 151.5093) (-1.5, -134.7065, 161.5093) (-1.5, -134.7065, 81.5093)
equation "\"d5\" = d2"
equation "\"d12\" = d11"
equation "\"d19\" = d18"
equation "\"d25\" = d24"
equation "\"d29\" = d26"
equation "\"d32\" = d28"
equation "\"d45\" = d44"
equation "\"d50\" = d49"
properties part number "base_weel-v1-Plate-lider-F" material "アルミニウム 6061"
